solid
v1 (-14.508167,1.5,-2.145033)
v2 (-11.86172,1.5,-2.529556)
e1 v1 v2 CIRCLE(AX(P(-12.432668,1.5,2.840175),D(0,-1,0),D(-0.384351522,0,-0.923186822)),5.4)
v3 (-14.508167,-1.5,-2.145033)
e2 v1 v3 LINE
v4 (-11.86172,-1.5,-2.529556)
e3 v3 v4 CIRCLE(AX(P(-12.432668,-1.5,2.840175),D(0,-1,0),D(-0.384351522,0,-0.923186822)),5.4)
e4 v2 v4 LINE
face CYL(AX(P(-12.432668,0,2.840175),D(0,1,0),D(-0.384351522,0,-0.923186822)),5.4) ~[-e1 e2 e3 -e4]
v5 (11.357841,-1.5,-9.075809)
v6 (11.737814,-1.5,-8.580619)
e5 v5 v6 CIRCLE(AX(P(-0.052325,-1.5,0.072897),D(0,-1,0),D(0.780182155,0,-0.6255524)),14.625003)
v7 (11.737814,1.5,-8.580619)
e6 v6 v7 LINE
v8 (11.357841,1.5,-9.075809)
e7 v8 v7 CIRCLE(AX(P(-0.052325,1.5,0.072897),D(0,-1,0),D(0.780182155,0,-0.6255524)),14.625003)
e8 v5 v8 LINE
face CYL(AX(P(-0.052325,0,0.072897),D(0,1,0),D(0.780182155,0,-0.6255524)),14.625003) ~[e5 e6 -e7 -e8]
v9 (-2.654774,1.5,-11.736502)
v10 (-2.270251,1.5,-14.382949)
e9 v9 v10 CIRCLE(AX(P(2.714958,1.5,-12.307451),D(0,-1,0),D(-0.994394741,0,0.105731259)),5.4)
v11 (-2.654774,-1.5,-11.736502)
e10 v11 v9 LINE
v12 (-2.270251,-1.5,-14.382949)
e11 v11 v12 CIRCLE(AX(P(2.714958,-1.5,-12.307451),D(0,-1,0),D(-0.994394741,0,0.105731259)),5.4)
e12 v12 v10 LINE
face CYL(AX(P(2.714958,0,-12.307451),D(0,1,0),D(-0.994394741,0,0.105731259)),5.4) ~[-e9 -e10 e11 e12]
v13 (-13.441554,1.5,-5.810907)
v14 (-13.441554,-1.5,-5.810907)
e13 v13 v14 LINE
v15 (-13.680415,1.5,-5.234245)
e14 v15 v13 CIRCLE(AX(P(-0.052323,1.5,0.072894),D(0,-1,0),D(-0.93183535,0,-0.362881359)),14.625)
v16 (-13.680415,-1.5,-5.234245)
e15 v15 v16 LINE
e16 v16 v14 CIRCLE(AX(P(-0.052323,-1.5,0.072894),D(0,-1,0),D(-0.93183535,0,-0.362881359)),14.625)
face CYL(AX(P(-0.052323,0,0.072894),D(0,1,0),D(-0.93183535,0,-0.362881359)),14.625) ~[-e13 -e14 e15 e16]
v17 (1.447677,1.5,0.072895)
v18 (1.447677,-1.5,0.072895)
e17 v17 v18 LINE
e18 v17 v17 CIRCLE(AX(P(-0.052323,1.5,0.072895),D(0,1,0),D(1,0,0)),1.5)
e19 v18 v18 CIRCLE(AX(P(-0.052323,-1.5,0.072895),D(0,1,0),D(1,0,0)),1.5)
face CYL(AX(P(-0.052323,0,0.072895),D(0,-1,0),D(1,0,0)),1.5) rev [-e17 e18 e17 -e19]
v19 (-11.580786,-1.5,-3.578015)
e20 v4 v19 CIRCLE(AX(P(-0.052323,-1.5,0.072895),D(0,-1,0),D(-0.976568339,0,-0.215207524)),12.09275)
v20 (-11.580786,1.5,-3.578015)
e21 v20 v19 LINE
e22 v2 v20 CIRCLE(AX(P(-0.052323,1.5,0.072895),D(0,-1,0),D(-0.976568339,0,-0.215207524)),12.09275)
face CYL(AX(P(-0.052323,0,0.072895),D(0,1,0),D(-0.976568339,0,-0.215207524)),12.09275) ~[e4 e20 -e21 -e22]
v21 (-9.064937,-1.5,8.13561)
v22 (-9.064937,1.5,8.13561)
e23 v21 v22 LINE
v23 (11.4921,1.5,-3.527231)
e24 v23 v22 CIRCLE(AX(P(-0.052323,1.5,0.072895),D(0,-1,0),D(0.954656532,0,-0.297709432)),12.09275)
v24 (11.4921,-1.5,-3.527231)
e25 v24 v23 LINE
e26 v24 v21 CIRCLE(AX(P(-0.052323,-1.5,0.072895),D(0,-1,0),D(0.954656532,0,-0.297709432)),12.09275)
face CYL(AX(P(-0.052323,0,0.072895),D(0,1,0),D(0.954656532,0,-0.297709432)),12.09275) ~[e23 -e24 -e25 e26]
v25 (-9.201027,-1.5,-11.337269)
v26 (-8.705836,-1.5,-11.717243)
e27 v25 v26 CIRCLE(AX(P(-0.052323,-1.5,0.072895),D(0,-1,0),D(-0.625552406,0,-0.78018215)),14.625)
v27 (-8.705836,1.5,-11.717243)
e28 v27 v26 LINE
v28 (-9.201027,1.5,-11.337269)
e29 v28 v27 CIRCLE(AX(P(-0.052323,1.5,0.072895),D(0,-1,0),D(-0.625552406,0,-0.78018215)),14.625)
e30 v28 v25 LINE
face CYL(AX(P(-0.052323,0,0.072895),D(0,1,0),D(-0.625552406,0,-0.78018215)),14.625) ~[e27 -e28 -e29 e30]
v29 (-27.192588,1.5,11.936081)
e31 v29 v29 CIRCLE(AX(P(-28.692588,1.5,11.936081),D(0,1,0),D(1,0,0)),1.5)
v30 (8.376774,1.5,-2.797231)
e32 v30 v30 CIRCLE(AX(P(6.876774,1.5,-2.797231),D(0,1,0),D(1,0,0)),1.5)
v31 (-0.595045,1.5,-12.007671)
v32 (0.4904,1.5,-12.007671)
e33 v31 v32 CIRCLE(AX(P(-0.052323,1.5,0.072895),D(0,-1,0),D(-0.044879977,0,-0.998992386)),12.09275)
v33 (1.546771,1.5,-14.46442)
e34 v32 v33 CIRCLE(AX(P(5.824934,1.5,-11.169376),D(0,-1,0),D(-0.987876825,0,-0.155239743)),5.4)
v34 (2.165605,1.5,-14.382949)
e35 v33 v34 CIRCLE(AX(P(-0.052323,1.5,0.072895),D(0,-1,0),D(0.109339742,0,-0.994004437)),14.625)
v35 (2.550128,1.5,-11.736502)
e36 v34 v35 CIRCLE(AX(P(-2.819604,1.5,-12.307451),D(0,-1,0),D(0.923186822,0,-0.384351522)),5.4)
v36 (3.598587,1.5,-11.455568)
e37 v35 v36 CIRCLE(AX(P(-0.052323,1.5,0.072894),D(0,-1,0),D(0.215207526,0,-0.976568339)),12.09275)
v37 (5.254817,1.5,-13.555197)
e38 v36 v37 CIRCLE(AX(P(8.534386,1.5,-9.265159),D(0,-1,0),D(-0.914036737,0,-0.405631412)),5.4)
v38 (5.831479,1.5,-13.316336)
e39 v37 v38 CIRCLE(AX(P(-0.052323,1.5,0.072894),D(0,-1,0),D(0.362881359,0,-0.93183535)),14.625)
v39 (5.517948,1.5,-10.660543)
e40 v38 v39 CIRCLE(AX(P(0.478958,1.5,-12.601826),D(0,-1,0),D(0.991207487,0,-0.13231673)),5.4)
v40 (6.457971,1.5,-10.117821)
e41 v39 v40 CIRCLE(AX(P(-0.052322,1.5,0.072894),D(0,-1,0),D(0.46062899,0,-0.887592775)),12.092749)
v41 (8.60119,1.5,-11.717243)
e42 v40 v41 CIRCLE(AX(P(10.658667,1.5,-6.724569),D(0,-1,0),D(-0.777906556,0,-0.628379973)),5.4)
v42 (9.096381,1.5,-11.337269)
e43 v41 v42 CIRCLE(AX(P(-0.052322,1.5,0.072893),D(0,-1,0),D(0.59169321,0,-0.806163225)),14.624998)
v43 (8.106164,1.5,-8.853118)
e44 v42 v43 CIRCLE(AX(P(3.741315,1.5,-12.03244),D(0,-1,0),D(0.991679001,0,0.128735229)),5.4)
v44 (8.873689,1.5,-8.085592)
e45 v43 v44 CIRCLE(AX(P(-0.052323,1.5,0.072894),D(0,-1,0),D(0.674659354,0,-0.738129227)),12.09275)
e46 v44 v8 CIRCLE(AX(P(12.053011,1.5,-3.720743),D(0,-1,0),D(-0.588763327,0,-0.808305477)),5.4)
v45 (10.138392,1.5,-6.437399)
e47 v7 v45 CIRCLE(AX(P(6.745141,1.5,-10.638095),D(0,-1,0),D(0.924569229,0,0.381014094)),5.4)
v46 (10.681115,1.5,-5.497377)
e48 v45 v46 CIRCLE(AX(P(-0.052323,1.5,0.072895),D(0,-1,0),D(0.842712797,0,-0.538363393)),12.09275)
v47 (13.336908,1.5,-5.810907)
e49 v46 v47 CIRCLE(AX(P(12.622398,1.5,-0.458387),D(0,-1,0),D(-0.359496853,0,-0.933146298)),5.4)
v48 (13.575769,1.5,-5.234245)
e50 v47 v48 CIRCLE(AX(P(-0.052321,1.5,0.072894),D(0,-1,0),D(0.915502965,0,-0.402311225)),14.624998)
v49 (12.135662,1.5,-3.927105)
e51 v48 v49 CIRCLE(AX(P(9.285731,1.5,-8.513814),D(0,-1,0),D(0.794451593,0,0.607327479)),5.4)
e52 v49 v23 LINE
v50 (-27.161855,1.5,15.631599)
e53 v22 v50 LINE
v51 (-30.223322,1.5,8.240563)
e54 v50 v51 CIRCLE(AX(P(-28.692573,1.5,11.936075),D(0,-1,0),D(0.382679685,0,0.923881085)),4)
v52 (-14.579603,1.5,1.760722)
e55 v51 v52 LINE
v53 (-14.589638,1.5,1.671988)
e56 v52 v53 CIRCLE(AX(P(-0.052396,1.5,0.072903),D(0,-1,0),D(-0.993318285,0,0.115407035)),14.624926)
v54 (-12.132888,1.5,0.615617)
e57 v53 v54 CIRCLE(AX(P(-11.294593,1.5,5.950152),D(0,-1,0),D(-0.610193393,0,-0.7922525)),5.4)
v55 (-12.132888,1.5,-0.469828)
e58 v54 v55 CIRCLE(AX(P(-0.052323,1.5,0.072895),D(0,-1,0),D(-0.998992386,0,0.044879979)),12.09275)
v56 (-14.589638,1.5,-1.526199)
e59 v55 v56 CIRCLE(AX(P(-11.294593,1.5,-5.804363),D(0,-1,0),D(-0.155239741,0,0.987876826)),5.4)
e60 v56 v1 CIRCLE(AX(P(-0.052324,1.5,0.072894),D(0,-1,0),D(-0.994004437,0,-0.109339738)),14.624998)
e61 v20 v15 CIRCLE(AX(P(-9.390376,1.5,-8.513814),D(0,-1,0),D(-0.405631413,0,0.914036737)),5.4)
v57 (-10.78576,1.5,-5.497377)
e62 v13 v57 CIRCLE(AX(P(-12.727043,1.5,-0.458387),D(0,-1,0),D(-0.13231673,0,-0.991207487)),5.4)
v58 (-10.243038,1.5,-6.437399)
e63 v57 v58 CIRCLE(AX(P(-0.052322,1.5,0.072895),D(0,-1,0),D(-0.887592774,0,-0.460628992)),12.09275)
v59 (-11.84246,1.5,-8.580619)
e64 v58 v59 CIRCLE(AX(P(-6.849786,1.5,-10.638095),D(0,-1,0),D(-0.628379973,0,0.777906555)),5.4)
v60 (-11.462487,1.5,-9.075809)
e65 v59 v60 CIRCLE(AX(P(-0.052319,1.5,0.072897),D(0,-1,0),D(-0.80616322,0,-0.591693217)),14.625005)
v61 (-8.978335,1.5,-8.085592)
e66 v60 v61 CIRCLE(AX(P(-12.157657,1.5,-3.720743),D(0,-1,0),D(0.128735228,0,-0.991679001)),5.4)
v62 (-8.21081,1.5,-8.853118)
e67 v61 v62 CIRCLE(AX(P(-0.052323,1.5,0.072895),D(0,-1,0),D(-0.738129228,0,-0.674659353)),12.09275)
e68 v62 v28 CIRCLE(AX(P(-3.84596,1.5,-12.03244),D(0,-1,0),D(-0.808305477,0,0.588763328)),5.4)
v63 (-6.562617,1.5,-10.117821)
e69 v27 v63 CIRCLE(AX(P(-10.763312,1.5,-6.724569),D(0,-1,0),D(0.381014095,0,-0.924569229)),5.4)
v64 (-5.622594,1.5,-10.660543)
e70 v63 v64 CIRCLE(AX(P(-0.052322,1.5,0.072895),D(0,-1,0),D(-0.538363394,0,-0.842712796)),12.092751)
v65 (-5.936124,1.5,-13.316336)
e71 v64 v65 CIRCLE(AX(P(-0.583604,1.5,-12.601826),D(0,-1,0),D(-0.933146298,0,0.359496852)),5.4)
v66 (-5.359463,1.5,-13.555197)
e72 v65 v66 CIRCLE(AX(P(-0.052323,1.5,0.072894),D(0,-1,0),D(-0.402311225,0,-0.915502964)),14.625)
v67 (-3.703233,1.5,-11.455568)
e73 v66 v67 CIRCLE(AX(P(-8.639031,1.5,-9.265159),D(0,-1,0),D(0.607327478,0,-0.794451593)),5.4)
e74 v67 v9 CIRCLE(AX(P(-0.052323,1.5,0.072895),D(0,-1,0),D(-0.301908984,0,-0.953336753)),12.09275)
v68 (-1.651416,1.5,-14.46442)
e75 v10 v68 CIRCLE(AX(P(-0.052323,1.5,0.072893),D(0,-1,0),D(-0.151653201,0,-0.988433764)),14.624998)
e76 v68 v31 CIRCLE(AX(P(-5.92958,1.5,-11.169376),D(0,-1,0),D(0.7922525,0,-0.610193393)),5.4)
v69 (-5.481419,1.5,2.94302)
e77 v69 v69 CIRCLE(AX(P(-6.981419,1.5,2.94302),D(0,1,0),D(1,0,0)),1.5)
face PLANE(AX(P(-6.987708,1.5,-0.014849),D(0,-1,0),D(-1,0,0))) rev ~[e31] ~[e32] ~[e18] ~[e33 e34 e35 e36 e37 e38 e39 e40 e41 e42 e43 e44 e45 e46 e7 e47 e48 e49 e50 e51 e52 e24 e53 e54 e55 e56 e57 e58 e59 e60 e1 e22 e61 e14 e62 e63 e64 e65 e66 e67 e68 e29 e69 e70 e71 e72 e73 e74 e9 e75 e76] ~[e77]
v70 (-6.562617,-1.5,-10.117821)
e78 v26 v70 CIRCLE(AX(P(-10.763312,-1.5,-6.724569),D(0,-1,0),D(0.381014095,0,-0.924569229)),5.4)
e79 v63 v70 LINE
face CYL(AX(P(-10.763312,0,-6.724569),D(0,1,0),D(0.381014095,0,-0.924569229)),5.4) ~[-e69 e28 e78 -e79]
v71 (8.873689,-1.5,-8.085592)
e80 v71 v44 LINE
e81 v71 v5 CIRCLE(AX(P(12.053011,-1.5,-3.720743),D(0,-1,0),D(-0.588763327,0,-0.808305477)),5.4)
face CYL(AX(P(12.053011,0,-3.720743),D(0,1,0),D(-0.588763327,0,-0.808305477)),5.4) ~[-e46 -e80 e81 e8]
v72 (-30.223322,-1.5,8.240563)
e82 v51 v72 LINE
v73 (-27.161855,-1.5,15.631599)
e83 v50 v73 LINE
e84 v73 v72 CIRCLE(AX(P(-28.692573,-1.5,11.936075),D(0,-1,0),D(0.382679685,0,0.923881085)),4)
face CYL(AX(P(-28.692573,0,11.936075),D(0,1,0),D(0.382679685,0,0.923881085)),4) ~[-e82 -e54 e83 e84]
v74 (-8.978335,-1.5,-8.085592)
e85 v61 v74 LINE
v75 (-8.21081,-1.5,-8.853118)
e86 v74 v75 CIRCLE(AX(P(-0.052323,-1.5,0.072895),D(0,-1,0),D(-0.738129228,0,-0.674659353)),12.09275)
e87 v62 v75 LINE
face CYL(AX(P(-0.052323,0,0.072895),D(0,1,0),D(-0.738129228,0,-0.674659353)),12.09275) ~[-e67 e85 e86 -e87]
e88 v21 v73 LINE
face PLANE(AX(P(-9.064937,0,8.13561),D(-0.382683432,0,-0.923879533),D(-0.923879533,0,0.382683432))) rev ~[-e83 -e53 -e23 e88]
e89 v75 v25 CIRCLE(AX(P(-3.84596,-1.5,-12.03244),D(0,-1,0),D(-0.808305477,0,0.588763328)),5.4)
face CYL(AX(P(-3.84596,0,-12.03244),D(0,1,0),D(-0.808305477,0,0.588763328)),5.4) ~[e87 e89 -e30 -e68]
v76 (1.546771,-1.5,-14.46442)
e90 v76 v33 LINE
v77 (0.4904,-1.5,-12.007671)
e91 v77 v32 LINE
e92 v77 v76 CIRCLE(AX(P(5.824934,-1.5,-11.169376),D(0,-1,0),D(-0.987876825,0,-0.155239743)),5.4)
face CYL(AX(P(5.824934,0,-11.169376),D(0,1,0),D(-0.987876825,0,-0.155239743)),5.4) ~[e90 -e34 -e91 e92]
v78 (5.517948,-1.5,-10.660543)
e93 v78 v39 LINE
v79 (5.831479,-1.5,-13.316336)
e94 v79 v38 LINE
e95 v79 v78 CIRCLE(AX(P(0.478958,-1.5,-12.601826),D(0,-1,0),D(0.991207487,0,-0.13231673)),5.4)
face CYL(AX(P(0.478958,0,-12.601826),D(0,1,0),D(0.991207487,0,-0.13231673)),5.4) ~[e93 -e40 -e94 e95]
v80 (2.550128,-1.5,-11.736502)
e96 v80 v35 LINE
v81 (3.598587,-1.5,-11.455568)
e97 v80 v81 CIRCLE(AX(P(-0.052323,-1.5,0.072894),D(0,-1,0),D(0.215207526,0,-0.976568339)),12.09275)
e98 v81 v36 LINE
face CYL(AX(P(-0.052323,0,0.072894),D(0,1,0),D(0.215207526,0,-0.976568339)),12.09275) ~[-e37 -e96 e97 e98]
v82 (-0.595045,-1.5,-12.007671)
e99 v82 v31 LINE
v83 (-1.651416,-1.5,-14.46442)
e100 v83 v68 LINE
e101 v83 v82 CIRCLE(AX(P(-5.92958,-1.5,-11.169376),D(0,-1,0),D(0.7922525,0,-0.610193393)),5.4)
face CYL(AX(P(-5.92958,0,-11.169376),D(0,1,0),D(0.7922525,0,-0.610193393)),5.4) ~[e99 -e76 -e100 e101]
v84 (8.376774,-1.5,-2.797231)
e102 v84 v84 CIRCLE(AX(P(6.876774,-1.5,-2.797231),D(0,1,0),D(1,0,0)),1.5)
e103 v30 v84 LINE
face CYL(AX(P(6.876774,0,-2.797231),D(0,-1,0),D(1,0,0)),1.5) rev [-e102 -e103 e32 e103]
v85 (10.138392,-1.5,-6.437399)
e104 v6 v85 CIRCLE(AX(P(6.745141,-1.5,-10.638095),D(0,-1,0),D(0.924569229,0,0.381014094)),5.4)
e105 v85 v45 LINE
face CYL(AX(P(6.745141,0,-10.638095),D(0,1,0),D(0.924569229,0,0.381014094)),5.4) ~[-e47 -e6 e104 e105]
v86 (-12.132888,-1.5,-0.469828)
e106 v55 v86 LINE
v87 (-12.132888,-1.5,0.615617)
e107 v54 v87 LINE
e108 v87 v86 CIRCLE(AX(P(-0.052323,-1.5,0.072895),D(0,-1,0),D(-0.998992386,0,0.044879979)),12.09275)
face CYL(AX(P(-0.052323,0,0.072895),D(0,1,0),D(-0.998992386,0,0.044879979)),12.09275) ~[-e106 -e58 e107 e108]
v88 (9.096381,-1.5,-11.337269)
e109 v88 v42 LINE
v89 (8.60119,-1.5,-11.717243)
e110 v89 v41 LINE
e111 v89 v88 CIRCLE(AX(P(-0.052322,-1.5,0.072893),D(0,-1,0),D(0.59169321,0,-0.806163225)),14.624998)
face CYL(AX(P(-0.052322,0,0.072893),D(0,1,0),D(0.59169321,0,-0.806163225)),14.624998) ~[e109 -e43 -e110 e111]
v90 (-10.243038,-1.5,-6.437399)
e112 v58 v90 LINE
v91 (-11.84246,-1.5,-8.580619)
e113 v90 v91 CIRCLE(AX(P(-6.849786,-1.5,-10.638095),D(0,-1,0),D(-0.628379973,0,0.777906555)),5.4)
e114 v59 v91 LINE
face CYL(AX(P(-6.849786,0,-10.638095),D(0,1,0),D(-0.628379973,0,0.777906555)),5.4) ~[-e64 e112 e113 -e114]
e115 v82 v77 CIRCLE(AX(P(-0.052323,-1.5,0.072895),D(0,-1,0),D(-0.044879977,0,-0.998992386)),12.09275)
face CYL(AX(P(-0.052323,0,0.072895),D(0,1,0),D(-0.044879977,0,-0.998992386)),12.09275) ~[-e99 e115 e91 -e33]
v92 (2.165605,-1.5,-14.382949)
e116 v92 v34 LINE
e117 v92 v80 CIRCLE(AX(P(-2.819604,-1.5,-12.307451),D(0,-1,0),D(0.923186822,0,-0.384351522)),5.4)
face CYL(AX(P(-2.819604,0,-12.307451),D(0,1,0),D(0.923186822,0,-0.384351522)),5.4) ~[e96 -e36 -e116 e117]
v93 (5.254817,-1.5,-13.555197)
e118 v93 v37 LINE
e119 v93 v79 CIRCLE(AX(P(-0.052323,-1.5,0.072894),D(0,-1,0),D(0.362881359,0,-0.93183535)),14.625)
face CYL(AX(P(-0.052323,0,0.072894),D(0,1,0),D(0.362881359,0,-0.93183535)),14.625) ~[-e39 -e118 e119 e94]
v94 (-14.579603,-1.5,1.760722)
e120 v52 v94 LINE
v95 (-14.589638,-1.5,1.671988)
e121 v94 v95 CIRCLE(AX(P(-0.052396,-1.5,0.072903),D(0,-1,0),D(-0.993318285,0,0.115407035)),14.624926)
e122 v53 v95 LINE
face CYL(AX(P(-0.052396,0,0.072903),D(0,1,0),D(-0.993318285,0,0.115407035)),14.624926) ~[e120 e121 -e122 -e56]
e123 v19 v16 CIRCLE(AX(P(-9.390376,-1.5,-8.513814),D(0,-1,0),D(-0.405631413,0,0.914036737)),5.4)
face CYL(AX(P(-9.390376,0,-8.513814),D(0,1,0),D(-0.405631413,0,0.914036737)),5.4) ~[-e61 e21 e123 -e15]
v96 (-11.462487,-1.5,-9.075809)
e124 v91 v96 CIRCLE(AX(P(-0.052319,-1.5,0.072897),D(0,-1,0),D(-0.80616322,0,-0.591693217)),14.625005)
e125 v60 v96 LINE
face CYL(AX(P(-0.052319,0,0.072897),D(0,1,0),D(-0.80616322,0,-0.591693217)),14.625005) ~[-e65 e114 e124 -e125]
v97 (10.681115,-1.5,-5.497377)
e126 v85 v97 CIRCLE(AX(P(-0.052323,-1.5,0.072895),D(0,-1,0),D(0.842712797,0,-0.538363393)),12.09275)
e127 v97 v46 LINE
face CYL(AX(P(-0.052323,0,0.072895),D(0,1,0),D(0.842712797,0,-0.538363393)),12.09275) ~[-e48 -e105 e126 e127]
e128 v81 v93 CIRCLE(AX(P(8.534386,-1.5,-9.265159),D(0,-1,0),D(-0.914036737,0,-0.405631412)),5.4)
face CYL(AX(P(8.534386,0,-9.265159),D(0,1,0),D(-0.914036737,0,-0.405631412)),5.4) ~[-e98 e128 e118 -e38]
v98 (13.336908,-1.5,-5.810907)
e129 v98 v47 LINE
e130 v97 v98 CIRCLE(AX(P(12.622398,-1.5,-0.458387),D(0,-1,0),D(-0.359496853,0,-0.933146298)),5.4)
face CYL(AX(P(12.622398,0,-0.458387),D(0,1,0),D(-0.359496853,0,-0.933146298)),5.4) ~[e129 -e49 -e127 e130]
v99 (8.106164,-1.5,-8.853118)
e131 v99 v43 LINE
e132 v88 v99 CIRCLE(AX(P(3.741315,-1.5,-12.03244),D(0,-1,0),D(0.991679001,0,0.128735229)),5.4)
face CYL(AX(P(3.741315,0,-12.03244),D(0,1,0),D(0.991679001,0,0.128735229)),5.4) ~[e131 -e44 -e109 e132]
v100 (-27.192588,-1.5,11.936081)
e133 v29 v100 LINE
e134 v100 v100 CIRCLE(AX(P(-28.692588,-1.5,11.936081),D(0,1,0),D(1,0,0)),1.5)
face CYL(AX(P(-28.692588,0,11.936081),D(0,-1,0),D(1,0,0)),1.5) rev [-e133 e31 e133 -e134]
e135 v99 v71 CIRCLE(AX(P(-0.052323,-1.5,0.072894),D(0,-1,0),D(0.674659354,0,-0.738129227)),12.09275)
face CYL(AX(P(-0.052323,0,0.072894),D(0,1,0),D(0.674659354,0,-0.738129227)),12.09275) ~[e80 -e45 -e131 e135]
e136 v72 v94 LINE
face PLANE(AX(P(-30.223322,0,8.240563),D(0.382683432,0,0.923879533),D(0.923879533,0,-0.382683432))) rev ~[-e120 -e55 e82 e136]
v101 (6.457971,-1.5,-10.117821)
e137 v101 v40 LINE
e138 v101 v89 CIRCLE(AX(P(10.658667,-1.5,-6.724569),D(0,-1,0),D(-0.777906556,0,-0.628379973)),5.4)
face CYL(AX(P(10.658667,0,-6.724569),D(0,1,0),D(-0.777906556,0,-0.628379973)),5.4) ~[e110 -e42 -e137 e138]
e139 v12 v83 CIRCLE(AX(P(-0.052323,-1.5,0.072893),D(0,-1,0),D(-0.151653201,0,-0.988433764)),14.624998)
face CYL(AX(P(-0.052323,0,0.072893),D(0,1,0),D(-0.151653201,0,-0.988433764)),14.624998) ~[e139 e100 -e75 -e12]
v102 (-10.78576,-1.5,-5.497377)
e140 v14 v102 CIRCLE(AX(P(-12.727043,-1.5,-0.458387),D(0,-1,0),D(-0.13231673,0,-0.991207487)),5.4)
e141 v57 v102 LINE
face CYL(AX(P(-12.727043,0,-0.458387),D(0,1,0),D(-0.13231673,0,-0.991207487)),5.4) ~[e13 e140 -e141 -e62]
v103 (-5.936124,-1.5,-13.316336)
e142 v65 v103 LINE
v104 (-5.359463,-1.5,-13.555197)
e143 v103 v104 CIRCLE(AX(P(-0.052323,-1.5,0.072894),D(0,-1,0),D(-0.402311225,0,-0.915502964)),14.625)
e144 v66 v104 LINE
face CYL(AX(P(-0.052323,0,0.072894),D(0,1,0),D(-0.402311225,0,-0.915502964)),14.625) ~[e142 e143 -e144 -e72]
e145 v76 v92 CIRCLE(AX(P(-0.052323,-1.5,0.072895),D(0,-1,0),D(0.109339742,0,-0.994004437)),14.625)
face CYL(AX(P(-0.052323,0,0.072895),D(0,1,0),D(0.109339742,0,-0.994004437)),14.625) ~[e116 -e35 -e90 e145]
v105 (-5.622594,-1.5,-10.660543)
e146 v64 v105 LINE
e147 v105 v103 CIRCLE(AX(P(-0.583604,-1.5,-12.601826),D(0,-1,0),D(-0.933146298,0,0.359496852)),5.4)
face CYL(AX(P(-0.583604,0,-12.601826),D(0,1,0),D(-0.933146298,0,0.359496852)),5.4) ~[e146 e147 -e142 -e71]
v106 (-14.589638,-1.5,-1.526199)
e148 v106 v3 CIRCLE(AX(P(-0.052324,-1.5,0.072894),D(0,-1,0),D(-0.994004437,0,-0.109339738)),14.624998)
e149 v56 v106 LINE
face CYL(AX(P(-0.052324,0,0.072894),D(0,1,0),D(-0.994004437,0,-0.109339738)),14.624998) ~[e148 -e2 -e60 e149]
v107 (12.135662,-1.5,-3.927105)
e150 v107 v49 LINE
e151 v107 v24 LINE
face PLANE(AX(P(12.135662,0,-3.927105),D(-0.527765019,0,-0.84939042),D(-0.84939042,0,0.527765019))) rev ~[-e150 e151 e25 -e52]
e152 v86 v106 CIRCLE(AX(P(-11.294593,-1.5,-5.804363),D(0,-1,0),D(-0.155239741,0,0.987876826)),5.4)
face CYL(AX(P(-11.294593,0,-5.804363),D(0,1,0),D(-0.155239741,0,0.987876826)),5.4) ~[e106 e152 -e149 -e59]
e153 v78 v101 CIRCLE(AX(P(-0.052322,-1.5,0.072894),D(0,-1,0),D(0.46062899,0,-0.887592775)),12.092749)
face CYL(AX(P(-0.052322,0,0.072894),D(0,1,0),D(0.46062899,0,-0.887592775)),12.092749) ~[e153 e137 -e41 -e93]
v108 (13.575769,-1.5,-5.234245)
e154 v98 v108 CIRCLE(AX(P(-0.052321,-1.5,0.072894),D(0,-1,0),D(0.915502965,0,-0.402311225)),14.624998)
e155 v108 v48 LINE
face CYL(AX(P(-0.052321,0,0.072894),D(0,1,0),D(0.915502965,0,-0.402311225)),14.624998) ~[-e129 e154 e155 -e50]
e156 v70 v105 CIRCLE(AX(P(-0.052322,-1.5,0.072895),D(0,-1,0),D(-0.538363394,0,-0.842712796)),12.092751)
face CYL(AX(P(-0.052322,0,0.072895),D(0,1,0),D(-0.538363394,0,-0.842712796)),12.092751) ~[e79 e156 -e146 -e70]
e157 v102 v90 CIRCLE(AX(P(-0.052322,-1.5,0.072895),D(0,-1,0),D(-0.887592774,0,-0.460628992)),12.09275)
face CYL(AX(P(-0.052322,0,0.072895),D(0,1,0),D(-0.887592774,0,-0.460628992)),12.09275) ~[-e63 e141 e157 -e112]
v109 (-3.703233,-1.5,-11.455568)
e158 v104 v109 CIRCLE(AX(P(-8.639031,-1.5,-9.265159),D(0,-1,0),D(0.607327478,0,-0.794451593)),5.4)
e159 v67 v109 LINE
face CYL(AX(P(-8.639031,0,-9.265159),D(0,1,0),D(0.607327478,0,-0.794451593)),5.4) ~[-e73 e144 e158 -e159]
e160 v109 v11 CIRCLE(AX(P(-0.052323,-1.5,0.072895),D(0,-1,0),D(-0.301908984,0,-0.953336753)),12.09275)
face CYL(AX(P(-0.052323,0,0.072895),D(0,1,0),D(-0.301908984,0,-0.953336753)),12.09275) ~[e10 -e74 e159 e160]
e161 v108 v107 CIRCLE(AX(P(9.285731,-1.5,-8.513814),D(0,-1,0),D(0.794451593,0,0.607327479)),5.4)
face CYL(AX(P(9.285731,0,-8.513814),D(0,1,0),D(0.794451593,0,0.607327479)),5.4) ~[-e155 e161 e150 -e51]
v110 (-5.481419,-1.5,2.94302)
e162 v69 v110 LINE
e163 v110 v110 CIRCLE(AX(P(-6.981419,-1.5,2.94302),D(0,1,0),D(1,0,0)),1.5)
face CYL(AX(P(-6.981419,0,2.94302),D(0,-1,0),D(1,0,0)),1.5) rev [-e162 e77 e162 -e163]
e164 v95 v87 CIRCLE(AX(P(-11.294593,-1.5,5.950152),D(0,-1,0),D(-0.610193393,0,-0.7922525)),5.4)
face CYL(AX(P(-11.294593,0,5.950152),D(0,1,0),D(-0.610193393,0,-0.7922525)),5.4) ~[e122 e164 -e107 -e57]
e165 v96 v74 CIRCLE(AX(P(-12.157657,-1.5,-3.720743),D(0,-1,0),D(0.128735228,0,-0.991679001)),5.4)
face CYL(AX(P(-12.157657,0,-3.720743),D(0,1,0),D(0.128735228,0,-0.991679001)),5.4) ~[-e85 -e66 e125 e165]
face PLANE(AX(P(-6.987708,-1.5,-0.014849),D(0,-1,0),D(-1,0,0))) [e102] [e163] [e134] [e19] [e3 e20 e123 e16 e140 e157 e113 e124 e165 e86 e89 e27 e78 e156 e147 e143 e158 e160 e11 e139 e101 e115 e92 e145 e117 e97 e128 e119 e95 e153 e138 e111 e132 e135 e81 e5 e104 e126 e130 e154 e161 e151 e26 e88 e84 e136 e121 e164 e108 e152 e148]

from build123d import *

# Parameters (mm, degrees)
SKETCH1_R           = 1.500000006
SKETCH1_R_2         = 1.5
BOSS_EXTRUDE1_DEPTH = 1.5


with BuildPart() as part:
    # Sketch1 → Boss-Extrude1 (new body, symmetric)
    with BuildSketch(Plane(origin=(0, 0, 0), x_dir=(1, 0, 0), z_dir=(0, 1, 0))):
        with BuildLine():
            Line((-9.06493699, -8.135610408), (-27.161854519, -15.631599086))
            ThreePointArc((-27.161854519, -15.631599086), (-32.388091388, -13.466808476), (-30.223321978, -8.240562826))
            Line((-30.223321978, -8.240562826), (-14.579602701, -1.760722136))
            ThreePointArc((-14.579602701, -1.760722136), (-14.584687893, -1.716362865), (-14.589637633, -1.671988275))
            ThreePointArc((-14.589637633, -1.671988275), (-13.427690306, -0.989315431), (-12.132887918, -0.615616914))
            ThreePointArc((-12.132887918, -0.615616914), (-12.145072741, -0.072894557), (-12.132887919, 0.469827801))
            ThreePointArc((-12.132887919, 0.469827801), (-13.427690307, 0.843526317), (-14.589637634, 1.526199162))
            ThreePointArc((-14.589637634, 1.526199162), (-14.55220384, 1.836051004), (-14.508166551, 2.14503348))
            ThreePointArc((-14.508166551, 2.14503348), (-13.209122885, 2.503710713), (-11.861719526, 2.529556244))
            ThreePointArc((-11.861719526, 2.529556244), (-11.733022279, 3.05693945), (-11.580785762, 3.578015328))
            ThreePointArc((-11.580785762, 3.578015328), (-12.734748535, 4.274099894), (-13.680414734, 5.234245323))
            ThreePointArc((-13.680414734, 5.234245323), (-13.564060907, 5.523850641), (-13.441553603, 5.810907105))
            ThreePointArc((-13.441553603, 5.810907105), (-12.093941278, 5.821145467), (-10.785760259, 5.497376682))
            ThreePointArc((-10.785760259, 5.497376682), (-10.524951446, 5.973480443), (-10.243037902, 6.437399381))
            ThreePointArc((-10.243037902, 6.437399381), (-11.177520404, 7.408432983), (-11.842459886, 8.580618673))
            ThreePointArc((-11.842459886, 8.580618673), (-11.655115347, 8.830241342), (-11.462486699, 9.075809372))
            ThreePointArc((-11.462486699, 9.075809372), (-10.158143266, 8.736911135), (-8.978334963, 8.085592341))
            ThreePointArc((-8.978334963, 8.085592341), (-8.603188274, 8.477970972), (-8.210809644, 8.853117661))
            ThreePointArc((-8.210809644, 8.853117661), (-8.862128438, 10.032925965), (-9.201026675, 11.337269397))
            ThreePointArc((-9.201026675, 11.337269397), (-8.955458646, 11.529898046), (-8.705835976, 11.717242585))
            ThreePointArc((-8.705835976, 11.717242585), (-7.533650287, 11.052303103), (-6.562616684, 10.117820601))
            ThreePointArc((-6.562616684, 10.117820601), (-6.098697746, 10.399734146), (-5.622593986, 10.66054296))
            ThreePointArc((-5.622593986, 10.66054296), (-5.946362771, 11.968723978), (-5.936124409, 13.316336304))
            ThreePointArc((-5.936124409, 13.316336304), (-5.649067945, 13.438843608), (-5.359462627, 13.555197435))
            ThreePointArc((-5.359462627, 13.555197435), (-4.399317198, 12.609531237), (-3.703232632, 11.455568464))
            ThreePointArc((-3.703232632, 11.455568464), (-3.182156754, 11.607804981), (-2.654773548, 11.736502229))
            ThreePointArc((-2.654773548, 11.736502229), (-2.628928016, 13.083905587), (-2.270250783, 14.382949252))
            ThreePointArc((-2.270250783, 14.382949252), (-1.961268307, 14.426986541), (-1.651416464, 14.464420335))
            ThreePointArc((-1.651416464, 14.464420335), (-0.96874362, 13.302473008), (-0.595045103, 12.007670621))
            ThreePointArc((-0.595045103, 12.007670621), (-0.052322745, 12.019855443), (0.490399612, 12.00767062))
            ThreePointArc((0.490399612, 12.00767062), (0.864098129, 13.302473008), (1.546770973, 14.464420336))
            ThreePointArc((1.546770973, 14.464420336), (1.856622816, 14.426986541), (2.165605292, 14.382949252))
            ThreePointArc((2.165605292, 14.382949252), (2.524282525, 13.083905586), (2.550128056, 11.736502227))
            ThreePointArc((2.550128056, 11.736502227), (3.077511262, 11.607804979), (3.59858714, 11.455568461))
            ThreePointArc((3.59858714, 11.455568461), (4.294671706, 12.609531235), (5.254817135, 13.555197433))
            ThreePointArc((5.254817135, 13.555197433), (5.544422453, 13.438843606), (5.831478917, 13.316336302))
            ThreePointArc((5.831478917, 13.316336302), (5.841717279, 11.968723977), (5.517948494, 10.660542958))
            ThreePointArc((5.517948494, 10.660542958), (5.994052255, 10.399734145), (6.457971192, 10.117820599))
            ThreePointArc((6.457971192, 10.117820599), (7.429004795, 11.052303102), (8.601190484, 11.717242583))
            ThreePointArc((8.601190484, 11.717242583), (8.850813154, 11.529898045), (9.096381183, 11.337269396))
            ThreePointArc((9.096381183, 11.337269396), (8.757482946, 10.032925964), (8.106164153, 8.85311766))
            ThreePointArc((8.106164153, 8.85311766), (8.498542783, 8.477970971), (8.873689471, 8.085592341))
            ThreePointArc((8.873689471, 8.085592341), (10.053497775, 8.736911134), (11.357841208, 9.075809372))
            ThreePointArc((11.357841208, 9.075809372), (11.550469856, 8.830241342), (11.737814395, 8.580618672))
            ThreePointArc((11.737814395, 8.580618672), (11.072874914, 7.408432983), (10.138392412, 6.437399381))
            ThreePointArc((10.138392412, 6.437399381), (10.420305956, 5.973480443), (10.681114769, 5.497376682))
            ThreePointArc((10.681114769, 5.497376682), (11.989295788, 5.821145468), (13.336908114, 5.810907106))
            ThreePointArc((13.336908114, 5.810907106), (13.459415418, 5.523850641), (13.575769244, 5.234245323))
            ThreePointArc((13.575769244, 5.234245323), (12.915048144, 4.515307178), (12.13566175, 3.927105445))
            Line((12.13566175, 3.927105445), (11.492100034, 3.52723119))
            ThreePointArc((11.492100034, 3.52723119), (5.914919678, -10.59081356), (-9.06493699, -8.135610408))
        make_face()
        with Locations((-0.052322747, -0.072894541)):
            Circle(SKETCH1_R, mode=Mode.SUBTRACT)
        with Locations((-28.692588249, -11.936080956)):
            Circle(SKETCH1_R_2, mode=Mode.SUBTRACT)
        with Locations((-6.981419235, -2.943020296)):
            Circle(SKETCH1_R_2, mode=Mode.SUBTRACT)
        with Locations((6.876773753, 2.79723119)):
            Circle(SKETCH1_R_2, mode=Mode.SUBTRACT)
    extrude(amount=BOSS_EXTRUDE1_DEPTH, both=True)


solid = part.part
